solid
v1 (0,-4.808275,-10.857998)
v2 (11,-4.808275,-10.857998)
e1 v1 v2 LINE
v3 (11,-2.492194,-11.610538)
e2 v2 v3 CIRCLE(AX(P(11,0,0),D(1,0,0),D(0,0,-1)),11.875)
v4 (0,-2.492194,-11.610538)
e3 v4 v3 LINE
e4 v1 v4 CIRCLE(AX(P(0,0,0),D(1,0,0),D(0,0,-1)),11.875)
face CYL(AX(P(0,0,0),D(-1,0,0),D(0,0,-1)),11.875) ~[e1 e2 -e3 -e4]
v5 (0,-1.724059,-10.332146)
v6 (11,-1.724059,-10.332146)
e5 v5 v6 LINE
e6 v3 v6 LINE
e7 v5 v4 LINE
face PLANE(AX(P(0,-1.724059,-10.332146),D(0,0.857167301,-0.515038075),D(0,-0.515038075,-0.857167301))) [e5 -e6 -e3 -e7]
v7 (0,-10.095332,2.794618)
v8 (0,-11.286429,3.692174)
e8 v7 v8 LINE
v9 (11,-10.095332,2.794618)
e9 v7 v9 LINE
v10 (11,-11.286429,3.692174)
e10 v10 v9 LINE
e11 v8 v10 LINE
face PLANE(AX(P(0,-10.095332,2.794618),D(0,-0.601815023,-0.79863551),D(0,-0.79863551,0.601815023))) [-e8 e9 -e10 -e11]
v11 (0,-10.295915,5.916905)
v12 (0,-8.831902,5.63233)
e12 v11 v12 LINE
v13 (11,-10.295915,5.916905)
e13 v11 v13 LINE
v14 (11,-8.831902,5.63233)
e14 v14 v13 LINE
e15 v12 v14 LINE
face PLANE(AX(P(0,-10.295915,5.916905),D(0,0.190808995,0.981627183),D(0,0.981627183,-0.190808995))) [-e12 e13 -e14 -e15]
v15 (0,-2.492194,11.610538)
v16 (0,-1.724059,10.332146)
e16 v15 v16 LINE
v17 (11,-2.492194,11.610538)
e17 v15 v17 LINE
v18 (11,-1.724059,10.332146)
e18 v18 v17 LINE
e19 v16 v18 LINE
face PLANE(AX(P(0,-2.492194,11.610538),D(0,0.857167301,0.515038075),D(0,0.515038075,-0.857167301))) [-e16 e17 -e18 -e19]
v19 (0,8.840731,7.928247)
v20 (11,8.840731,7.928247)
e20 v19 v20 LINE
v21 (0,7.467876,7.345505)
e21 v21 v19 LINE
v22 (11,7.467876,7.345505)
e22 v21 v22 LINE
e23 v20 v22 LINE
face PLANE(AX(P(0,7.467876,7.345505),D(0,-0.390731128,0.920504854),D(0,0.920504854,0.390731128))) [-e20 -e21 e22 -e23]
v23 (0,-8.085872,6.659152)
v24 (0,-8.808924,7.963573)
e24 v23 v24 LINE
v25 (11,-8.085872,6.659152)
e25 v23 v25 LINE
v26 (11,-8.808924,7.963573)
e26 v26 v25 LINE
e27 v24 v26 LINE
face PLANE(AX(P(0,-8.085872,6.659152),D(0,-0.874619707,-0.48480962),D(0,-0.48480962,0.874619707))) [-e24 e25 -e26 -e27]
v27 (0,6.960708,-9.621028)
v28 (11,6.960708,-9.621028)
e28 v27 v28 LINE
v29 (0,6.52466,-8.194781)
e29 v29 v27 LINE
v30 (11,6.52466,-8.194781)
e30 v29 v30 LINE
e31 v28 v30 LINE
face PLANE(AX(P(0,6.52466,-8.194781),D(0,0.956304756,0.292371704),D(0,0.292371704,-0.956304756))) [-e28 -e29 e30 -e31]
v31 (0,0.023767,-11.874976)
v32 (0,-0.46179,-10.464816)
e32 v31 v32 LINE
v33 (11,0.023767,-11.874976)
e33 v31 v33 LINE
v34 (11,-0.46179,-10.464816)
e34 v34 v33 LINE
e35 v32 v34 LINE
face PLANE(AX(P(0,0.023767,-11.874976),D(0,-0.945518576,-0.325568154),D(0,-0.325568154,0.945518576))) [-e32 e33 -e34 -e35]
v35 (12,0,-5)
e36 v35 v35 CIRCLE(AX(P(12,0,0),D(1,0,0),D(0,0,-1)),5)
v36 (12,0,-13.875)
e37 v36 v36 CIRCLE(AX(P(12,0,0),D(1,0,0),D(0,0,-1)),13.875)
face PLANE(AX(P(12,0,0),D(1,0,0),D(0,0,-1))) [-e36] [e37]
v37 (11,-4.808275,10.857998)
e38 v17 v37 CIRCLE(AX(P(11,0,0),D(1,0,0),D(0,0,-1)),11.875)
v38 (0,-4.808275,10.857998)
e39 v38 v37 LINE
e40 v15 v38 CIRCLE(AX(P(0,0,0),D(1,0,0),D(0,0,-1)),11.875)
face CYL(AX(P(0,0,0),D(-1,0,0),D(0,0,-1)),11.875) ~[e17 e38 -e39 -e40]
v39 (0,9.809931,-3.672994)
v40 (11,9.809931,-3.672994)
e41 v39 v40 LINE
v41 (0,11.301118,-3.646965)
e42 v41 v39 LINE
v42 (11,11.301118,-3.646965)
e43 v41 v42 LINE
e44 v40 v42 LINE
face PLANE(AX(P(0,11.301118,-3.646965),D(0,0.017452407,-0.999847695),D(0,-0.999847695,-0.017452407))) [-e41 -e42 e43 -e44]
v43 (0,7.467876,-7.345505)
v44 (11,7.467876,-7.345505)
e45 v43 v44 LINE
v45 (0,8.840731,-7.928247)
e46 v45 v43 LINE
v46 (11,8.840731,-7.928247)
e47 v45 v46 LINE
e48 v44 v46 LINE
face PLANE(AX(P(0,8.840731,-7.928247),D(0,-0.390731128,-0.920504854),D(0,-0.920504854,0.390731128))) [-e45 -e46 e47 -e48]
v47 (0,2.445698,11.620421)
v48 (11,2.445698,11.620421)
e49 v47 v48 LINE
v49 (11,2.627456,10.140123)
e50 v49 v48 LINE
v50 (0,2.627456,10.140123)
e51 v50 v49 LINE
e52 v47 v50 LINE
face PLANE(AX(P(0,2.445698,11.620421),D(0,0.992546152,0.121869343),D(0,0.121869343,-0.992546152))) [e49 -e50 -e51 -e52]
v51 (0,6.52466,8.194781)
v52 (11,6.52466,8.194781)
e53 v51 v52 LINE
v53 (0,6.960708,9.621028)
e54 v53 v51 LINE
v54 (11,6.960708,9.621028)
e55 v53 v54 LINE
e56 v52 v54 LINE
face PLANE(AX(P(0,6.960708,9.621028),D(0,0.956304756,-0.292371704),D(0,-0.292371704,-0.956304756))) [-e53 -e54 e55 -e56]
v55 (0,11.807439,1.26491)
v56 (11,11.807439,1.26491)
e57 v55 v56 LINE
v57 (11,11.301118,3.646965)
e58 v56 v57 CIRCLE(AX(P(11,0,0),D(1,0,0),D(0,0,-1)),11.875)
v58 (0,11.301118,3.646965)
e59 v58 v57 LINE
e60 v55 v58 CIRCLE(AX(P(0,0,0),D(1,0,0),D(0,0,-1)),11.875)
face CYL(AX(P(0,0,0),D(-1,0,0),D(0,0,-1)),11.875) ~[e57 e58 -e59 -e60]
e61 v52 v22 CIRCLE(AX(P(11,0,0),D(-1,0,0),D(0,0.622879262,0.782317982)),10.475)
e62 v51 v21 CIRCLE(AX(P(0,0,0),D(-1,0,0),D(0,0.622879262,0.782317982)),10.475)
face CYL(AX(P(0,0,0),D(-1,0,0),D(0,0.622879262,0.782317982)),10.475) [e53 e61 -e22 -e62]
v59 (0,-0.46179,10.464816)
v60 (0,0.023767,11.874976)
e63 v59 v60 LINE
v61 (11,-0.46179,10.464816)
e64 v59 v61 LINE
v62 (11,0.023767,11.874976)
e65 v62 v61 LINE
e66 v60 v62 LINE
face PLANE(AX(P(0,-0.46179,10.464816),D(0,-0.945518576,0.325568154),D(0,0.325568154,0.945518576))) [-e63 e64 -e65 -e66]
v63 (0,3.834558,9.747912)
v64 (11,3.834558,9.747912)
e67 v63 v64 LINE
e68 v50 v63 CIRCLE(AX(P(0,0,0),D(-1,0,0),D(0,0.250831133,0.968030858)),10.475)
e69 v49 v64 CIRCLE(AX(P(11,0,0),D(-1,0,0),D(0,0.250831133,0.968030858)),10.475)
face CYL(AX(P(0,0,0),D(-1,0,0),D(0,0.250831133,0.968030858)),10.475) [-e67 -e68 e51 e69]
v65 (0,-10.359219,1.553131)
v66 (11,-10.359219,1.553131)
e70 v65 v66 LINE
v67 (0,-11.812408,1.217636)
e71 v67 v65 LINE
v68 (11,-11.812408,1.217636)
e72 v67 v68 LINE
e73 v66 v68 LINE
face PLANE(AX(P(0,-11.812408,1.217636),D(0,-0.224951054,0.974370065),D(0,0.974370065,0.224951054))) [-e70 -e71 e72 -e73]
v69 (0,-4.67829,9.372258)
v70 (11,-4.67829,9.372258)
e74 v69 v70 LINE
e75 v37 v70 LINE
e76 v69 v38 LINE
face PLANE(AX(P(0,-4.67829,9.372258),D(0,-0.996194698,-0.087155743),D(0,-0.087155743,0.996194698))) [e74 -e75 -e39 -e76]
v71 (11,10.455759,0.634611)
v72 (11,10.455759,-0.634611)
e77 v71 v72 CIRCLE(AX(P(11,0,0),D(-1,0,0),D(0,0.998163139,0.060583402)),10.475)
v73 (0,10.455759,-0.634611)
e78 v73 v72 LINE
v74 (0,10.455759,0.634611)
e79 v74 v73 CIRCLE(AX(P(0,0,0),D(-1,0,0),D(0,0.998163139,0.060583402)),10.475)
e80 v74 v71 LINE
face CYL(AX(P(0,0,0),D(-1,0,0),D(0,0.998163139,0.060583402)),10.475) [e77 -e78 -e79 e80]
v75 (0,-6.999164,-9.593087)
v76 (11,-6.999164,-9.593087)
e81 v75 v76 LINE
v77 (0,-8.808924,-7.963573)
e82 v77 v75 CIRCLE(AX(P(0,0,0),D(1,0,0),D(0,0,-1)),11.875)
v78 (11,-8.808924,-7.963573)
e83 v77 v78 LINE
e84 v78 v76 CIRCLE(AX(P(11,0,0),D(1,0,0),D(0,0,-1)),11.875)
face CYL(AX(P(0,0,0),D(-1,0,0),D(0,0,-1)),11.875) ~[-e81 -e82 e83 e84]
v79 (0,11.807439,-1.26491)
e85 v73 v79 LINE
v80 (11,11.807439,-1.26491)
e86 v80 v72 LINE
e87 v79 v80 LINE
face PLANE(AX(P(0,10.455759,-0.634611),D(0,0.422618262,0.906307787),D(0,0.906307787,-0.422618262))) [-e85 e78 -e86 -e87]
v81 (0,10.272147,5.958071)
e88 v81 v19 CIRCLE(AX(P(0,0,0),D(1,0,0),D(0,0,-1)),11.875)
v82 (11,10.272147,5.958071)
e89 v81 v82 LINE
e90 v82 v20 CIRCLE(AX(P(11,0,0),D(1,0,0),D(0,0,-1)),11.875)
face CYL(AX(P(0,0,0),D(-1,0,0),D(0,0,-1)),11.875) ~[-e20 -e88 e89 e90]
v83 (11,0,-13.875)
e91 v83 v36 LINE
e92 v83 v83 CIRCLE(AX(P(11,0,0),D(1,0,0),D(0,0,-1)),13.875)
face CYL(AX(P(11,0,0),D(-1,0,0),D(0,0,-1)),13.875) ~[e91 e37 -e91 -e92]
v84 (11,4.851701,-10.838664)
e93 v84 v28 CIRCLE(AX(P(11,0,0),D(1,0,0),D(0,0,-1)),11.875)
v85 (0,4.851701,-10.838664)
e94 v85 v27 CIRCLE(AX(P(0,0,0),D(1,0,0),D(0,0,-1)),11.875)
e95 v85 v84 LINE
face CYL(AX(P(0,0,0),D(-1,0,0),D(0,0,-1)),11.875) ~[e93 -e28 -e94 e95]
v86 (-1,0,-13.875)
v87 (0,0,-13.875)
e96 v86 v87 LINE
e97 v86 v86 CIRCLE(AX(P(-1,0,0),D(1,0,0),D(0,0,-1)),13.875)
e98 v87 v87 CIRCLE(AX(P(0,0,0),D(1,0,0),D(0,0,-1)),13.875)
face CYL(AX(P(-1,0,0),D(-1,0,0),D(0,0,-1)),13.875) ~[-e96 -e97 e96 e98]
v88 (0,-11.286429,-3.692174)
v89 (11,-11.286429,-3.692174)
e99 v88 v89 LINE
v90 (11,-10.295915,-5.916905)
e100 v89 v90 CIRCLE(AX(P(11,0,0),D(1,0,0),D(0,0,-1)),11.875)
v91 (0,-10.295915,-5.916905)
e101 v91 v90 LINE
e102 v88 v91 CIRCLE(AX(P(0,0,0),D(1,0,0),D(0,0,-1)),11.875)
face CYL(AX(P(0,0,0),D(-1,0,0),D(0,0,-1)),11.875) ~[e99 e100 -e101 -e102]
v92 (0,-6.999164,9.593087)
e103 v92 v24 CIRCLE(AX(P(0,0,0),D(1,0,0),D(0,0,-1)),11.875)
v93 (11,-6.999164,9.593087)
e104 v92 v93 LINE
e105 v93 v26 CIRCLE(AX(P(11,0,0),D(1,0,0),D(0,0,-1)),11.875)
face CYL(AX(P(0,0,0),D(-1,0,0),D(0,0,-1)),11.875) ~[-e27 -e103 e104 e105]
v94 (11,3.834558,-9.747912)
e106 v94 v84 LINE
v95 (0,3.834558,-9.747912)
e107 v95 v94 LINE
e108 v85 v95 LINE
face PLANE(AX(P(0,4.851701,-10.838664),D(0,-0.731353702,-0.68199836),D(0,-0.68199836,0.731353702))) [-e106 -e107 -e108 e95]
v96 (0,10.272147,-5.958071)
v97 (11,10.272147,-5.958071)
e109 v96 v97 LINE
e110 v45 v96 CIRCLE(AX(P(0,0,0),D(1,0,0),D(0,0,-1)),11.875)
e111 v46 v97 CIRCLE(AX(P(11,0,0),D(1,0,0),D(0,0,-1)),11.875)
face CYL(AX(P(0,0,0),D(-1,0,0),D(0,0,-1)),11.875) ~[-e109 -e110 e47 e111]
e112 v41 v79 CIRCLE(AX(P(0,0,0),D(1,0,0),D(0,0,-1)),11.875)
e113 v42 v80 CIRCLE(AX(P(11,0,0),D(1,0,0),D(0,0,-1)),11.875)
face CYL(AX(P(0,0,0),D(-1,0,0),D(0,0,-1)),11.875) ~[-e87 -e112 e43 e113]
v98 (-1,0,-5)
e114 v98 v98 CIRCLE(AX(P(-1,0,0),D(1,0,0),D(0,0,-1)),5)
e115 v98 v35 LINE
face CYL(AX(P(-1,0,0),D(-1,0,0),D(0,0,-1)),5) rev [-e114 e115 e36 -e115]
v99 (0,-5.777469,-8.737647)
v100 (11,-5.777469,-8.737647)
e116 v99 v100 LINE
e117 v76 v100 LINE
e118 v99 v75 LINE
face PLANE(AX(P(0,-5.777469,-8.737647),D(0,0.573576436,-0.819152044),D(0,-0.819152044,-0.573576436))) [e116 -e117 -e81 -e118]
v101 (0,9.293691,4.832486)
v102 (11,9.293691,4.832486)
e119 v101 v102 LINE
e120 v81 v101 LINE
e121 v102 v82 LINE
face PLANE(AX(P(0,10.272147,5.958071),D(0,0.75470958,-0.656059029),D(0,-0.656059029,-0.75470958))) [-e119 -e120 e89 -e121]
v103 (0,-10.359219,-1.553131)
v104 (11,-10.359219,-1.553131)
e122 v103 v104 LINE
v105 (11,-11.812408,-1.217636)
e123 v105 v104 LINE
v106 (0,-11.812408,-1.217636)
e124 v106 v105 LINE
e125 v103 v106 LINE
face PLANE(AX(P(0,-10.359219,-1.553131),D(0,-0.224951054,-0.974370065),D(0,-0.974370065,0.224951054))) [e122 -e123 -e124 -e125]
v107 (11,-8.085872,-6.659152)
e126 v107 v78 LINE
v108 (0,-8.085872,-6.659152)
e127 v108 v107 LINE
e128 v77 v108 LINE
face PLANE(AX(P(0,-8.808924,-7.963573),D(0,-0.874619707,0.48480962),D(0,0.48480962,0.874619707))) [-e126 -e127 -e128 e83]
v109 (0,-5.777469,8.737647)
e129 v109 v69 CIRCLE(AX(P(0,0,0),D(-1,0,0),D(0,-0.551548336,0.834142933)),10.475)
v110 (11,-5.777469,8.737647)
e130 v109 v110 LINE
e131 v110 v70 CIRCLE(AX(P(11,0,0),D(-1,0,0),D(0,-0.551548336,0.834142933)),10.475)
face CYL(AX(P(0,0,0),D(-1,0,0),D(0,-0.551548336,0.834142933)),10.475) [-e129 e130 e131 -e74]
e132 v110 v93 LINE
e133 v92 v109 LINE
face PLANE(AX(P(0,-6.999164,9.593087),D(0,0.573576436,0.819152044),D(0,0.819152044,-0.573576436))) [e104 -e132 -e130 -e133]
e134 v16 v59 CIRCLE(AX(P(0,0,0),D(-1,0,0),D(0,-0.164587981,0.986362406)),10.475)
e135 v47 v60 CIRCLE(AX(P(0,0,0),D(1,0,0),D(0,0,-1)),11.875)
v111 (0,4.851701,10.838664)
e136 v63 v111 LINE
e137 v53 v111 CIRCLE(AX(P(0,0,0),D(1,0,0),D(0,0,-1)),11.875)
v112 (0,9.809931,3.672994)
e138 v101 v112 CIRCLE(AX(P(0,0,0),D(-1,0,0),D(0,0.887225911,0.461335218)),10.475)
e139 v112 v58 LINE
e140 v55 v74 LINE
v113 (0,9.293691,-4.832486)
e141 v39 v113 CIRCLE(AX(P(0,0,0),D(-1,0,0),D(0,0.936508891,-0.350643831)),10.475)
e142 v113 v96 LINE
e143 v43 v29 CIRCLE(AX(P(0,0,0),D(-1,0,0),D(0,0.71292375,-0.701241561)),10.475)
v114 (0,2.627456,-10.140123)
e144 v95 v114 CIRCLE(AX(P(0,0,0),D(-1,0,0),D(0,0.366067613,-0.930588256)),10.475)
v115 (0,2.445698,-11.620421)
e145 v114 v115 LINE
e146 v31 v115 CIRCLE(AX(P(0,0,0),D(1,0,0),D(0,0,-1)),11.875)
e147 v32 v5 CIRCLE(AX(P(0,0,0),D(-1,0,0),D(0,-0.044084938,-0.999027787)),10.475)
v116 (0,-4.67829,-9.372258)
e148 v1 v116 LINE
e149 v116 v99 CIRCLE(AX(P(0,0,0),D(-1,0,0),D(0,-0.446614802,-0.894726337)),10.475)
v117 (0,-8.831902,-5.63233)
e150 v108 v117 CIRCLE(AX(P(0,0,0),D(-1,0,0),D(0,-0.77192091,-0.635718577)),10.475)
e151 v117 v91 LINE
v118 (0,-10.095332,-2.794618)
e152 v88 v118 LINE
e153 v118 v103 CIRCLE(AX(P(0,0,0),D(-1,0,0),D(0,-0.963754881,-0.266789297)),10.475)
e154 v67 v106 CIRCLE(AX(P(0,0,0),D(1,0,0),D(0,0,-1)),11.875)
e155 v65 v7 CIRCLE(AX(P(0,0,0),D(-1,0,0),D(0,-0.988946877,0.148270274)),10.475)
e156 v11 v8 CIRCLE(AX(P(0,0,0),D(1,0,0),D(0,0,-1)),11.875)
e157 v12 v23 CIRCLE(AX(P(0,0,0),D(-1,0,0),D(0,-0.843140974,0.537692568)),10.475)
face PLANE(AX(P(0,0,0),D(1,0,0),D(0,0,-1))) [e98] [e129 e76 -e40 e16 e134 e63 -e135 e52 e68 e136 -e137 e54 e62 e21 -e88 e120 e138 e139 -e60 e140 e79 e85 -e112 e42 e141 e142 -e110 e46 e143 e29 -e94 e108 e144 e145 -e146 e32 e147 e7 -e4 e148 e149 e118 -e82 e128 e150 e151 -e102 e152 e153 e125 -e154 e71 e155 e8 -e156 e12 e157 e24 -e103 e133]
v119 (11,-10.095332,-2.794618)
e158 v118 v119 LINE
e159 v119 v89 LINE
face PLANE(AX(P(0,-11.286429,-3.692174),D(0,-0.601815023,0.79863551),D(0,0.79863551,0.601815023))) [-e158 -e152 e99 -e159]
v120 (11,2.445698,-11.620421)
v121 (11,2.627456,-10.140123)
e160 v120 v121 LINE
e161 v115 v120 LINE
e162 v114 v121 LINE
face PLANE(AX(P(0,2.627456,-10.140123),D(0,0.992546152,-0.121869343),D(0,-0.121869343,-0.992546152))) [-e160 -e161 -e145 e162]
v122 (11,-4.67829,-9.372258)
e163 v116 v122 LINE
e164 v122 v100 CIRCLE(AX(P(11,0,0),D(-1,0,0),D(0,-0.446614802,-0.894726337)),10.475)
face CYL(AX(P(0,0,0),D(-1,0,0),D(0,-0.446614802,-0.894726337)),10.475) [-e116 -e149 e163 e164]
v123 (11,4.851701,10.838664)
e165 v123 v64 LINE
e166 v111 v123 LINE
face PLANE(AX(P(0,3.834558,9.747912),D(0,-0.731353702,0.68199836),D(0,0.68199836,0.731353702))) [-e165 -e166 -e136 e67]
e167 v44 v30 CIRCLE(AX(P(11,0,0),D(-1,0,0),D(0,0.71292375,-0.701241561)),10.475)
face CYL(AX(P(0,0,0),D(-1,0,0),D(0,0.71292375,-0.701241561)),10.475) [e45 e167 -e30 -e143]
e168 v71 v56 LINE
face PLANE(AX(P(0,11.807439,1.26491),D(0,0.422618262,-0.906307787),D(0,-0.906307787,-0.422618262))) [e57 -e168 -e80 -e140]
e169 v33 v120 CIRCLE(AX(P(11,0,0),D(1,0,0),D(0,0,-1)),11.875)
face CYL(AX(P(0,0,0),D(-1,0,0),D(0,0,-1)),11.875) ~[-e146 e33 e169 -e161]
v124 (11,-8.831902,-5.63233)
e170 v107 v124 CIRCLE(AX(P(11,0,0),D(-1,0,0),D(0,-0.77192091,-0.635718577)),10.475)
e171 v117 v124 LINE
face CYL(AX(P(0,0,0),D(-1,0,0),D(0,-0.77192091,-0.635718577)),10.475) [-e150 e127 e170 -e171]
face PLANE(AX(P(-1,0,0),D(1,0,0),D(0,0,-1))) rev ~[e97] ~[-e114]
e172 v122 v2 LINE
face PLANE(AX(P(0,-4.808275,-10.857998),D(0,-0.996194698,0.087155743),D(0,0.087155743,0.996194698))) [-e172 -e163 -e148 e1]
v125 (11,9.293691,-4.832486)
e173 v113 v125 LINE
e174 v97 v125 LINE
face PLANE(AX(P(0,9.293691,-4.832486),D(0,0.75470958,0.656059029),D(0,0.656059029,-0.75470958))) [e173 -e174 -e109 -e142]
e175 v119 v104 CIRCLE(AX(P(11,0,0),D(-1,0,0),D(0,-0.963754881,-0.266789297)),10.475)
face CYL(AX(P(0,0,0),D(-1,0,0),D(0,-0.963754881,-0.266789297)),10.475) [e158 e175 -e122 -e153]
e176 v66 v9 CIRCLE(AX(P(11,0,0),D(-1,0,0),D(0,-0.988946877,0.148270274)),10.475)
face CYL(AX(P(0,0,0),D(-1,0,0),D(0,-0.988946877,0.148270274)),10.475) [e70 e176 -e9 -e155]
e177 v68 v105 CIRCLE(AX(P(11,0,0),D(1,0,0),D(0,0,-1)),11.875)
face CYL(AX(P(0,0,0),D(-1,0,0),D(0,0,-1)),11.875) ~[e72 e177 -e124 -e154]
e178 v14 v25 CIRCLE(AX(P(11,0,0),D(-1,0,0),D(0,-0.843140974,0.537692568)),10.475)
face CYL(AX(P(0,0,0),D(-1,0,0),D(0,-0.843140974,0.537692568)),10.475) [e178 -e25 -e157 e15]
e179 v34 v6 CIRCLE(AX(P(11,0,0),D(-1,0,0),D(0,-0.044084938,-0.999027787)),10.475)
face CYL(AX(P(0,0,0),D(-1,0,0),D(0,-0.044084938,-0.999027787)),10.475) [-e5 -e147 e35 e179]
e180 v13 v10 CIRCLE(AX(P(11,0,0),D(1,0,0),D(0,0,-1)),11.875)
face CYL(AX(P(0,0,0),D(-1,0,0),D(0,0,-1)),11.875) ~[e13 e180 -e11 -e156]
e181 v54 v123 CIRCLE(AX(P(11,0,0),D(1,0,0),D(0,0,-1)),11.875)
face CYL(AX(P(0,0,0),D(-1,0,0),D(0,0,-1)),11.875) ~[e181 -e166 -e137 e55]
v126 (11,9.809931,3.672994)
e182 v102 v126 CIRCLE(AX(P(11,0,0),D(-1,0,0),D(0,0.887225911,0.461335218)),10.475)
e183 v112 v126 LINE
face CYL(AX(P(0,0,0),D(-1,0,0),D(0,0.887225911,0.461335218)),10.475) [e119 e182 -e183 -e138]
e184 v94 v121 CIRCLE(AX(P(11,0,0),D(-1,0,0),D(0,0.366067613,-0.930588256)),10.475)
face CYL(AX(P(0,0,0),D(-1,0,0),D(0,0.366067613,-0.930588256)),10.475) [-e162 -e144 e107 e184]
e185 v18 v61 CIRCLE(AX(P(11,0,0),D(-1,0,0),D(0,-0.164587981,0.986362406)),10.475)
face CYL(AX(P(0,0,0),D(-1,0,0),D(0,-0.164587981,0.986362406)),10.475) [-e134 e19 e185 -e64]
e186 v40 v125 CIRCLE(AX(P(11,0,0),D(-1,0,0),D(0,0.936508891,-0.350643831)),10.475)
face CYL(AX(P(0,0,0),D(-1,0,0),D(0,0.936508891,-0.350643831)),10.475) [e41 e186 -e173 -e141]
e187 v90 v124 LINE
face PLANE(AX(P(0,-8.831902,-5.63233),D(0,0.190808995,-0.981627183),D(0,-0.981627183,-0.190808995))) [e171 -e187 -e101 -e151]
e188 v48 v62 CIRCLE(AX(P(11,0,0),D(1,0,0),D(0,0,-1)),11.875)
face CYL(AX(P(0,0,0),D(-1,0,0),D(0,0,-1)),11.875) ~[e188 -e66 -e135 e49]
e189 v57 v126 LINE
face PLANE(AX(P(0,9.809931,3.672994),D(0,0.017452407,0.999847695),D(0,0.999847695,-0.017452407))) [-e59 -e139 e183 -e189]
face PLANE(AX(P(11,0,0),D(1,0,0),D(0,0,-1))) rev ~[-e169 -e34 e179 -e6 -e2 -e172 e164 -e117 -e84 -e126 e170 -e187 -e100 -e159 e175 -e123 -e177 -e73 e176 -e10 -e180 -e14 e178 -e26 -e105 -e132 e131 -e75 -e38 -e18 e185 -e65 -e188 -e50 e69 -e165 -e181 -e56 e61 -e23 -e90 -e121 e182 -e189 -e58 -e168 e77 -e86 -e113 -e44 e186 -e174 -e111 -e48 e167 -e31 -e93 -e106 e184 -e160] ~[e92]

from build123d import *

# Parameters (mm, degrees)
SKETCH1_R           = 11.875
SKETCH1_R_2         = 5
BOSS_EXTRUDE1_DEPTH = 11
CUT_EXTRUDE1_DEPTH  = 21.075638221
SKETCH4_R           = 13.875
SKETCH4_R_2         = 5
BOSS_EXTRUDE2_DEPTH = 1
LPATTERN1_COUNT     = 2
LPATTERN1_PITCH     = 12


with BuildPart() as part:
    # Sketch1 → Boss-Extrude1 (new body)
    with BuildSketch(Plane(origin=(0, 0, 0), x_dir=(0, 0, -1), z_dir=(1, 0, 0))):
        Circle(SKETCH1_R)
        Circle(SKETCH1_R_2, mode=Mode.SUBTRACT)
    extrude(amount=BOSS_EXTRUDE1_DEPTH)

    # Sketch2 → Cut-Extrude1 (cut, through all)
    with BuildSketch(Plane.ZY):
        with BuildLine():
            Line((1.26491017, 11.807439488), (0.63461115, 10.455758877))
            ThreePointArc((0.63461115, 10.455758877), (0, 10.475), (-0.63461115, 10.455758877))
            Line((-0.63461115, 10.455758877), (-1.26491017, 11.807439488))
            ThreePointArc((-1.26491017, 11.807439488), (0, 11.875), (1.26491017, 11.807439488))
        make_face()
        with BuildLine():
            Line((5.958071241, 10.272147394), (4.8324864, 9.293691419))
            ThreePointArc((4.8324864, 9.293691419), (4.260566336, 9.569388669), (3.672994133, 9.809930637))
            Line((3.672994133, 9.809930637), (3.64696536, 11.301118027))
            ThreePointArc((3.64696536, 11.301118027), (4.829997637, 10.84835231), (5.958071241, 10.272147394))
        make_face()
        with BuildLine():
            Line((9.621027667, 6.960707696), (8.194780849, 6.524660285))
            ThreePointArc((8.194780849, 6.524660285), (7.784442047, 7.009143102), (7.345505362, 7.467876269))
            Line((7.345505362, 7.467876269), (7.928247448, 8.840730592))
            ThreePointArc((7.928247448, 8.840730592), (8.824844803, 7.945925951), (9.621027667, 6.960707696))
        make_face()
        with BuildLine():
            Line((11.620421005, 2.445698402), (10.140123243, 2.627456112))
            ThreePointArc((10.140123243, 2.627456112), (9.962317008, 3.236953016), (9.747911982, 3.834558252))
            Line((9.747911982, 3.834558252), (10.838663527, 4.851700522))
            ThreePointArc((10.838663527, 4.851700522), (11.293796131, 3.669576808), (11.620421005, 2.445698402))
        make_face()
        with BuildLine():
            Line((11.610537983, -2.492194365), (10.332146207, -1.724059091))
            ThreePointArc((10.332146207, -1.724059091), (10.417616854, -1.094935653), (10.464816064, -0.461789724))
            Line((10.464816064, -0.461789724), (11.874976215, 0.023767355))
            ThreePointArc((11.874976215, 0.023767355), (11.809947507, -1.241275501), (11.610537983, -2.492194365))
        make_face()
        with BuildLine():
            Line((9.593087465, -6.999164085), (8.737647228, -5.777468816))
            ThreePointArc((8.737647228, -5.777468816), (9.071616105, -5.2375), (9.372258378, -4.678290061))
            Line((9.372258378, -4.678290061), (10.857997635, -4.808275403))
            ThreePointArc((10.857997635, -4.808275403), (10.28405167, -5.9375), (9.593087465, -6.999164085))
        make_face()
        with BuildLine():
            Line((5.916904974, -10.295914749), (5.632329664, -8.831901695))
            ThreePointArc((5.632329664, -8.831901695), (6.157050518, -8.474453016), (6.659152074, -8.085871545))
            Line((6.659152074, -8.085871545), (7.963572623, -8.808923662))
            ThreePointArc((7.963572623, -8.808923662), (6.979949871, -9.607076808), (5.916904974, -10.295914749))
        make_face()
        with BuildLine():
            Line((1.21763586, -11.812408218), (1.553131133, -10.359218536))
            ThreePointArc((1.553131133, -10.359218536), (2.177874961, -10.246096118), (2.794617881, -10.095332382))
            Line((2.794617881, -10.095332382), (3.692173556, -11.286428994))
            ThreePointArc((3.692173556, -11.286428994), (2.468951328, -11.615502759), (1.21763586, -11.812408218))
        make_face()
        with BuildLine():
            Line((-3.692173556, -11.286428994), (-2.794617881, -10.095332382))
            ThreePointArc((-2.794617881, -10.095332382), (-2.177874961, -10.246096118), (-1.553131133, -10.359218536))
            Line((-1.553131133, -10.359218536), (-1.21763586, -11.812408218))
            ThreePointArc((-1.21763586, -11.812408218), (-2.468951328, -11.615502759), (-3.692173556, -11.286428994))
        make_face()
        with BuildLine():
            Line((-7.963572623, -8.808923662), (-6.659152074, -8.085871545))
            ThreePointArc((-6.659152074, -8.085871545), (-6.157050518, -8.474453016), (-5.632329664, -8.831901695))
            Line((-5.632329664, -8.831901695), (-5.916904974, -10.295914749))
            ThreePointArc((-5.916904974, -10.295914749), (-6.979949871, -9.607076808), (-7.963572623, -8.808923662))
        make_face()
        with BuildLine():
            Line((-10.857997635, -4.808275403), (-9.372258378, -4.678290061))
            ThreePointArc((-9.372258378, -4.678290061), (-9.071616105, -5.2375), (-8.737647228, -5.777468816))
            Line((-8.737647228, -5.777468816), (-9.593087465, -6.999164085))
            ThreePointArc((-9.593087465, -6.999164085), (-10.28405167, -5.9375), (-10.857997635, -4.808275403))
        make_face()
        with BuildLine():
            Line((-11.874976215, 0.023767355), (-10.464816064, -0.461789724))
            ThreePointArc((-10.464816064, -0.461789724), (-10.417616854, -1.094935653), (-10.332146207, -1.724059091))
            Line((-10.332146207, -1.724059091), (-11.610537983, -2.492194365))
            ThreePointArc((-11.610537983, -2.492194365), (-11.809947507, -1.241275501), (-11.874976215, 0.023767355))
        make_face()
        with BuildLine():
            Line((-10.838663527, 4.851700522), (-9.747911982, 3.834558252))
            ThreePointArc((-9.747911982, 3.834558252), (-9.962317008, 3.236953016), (-10.140123243, 2.627456112))
            Line((-10.140123243, 2.627456112), (-11.620421005, 2.445698402))
            ThreePointArc((-11.620421005, 2.445698402), (-11.293796131, 3.669576808), (-10.838663527, 4.851700522))
        make_face()
        with BuildLine():
            Line((-7.928247448, 8.840730592), (-7.345505362, 7.467876269))
            ThreePointArc((-7.345505362, 7.467876269), (-7.784442047, 7.009143102), (-8.194780849, 6.524660285))
            Line((-8.194780849, 6.524660285), (-9.621027667, 6.960707696))
            ThreePointArc((-9.621027667, 6.960707696), (-8.824844803, 7.945925951), (-7.928247448, 8.840730592))
        make_face()
        with BuildLine():
            Line((-3.64696536, 11.301118027), (-3.672994133, 9.809930637))
            ThreePointArc((-3.672994133, 9.809930637), (-4.260566336, 9.569388669), (-4.8324864, 9.293691419))
            Line((-4.8324864, 9.293691419), (-5.958071241, 10.272147394))
            ThreePointArc((-5.958071241, 10.272147394), (-4.829997637, 10.84835231), (-3.64696536, 11.301118027))
        make_face()
    extrude(amount=-CUT_EXTRUDE1_DEPTH, mode=Mode.SUBTRACT)

    # Sketch4 → Boss-Extrude2 (add)
    with BuildSketch(Plane(origin=(11, 0, 0), x_dir=(0, 0, -1), z_dir=(1, 0, 0))):
        Circle(SKETCH4_R)
        Circle(SKETCH4_R_2, mode=Mode.SUBTRACT)
    boss_extrude2 = extrude(amount=BOSS_EXTRUDE2_DEPTH)

    # LPattern1: Boss-Extrude2 ×2
    with Locations(*[(-i * LPATTERN1_PITCH, 0, 0) for i in range(1, LPATTERN1_COUNT)]):
        add(boss_extrude2)


solid = part.part
